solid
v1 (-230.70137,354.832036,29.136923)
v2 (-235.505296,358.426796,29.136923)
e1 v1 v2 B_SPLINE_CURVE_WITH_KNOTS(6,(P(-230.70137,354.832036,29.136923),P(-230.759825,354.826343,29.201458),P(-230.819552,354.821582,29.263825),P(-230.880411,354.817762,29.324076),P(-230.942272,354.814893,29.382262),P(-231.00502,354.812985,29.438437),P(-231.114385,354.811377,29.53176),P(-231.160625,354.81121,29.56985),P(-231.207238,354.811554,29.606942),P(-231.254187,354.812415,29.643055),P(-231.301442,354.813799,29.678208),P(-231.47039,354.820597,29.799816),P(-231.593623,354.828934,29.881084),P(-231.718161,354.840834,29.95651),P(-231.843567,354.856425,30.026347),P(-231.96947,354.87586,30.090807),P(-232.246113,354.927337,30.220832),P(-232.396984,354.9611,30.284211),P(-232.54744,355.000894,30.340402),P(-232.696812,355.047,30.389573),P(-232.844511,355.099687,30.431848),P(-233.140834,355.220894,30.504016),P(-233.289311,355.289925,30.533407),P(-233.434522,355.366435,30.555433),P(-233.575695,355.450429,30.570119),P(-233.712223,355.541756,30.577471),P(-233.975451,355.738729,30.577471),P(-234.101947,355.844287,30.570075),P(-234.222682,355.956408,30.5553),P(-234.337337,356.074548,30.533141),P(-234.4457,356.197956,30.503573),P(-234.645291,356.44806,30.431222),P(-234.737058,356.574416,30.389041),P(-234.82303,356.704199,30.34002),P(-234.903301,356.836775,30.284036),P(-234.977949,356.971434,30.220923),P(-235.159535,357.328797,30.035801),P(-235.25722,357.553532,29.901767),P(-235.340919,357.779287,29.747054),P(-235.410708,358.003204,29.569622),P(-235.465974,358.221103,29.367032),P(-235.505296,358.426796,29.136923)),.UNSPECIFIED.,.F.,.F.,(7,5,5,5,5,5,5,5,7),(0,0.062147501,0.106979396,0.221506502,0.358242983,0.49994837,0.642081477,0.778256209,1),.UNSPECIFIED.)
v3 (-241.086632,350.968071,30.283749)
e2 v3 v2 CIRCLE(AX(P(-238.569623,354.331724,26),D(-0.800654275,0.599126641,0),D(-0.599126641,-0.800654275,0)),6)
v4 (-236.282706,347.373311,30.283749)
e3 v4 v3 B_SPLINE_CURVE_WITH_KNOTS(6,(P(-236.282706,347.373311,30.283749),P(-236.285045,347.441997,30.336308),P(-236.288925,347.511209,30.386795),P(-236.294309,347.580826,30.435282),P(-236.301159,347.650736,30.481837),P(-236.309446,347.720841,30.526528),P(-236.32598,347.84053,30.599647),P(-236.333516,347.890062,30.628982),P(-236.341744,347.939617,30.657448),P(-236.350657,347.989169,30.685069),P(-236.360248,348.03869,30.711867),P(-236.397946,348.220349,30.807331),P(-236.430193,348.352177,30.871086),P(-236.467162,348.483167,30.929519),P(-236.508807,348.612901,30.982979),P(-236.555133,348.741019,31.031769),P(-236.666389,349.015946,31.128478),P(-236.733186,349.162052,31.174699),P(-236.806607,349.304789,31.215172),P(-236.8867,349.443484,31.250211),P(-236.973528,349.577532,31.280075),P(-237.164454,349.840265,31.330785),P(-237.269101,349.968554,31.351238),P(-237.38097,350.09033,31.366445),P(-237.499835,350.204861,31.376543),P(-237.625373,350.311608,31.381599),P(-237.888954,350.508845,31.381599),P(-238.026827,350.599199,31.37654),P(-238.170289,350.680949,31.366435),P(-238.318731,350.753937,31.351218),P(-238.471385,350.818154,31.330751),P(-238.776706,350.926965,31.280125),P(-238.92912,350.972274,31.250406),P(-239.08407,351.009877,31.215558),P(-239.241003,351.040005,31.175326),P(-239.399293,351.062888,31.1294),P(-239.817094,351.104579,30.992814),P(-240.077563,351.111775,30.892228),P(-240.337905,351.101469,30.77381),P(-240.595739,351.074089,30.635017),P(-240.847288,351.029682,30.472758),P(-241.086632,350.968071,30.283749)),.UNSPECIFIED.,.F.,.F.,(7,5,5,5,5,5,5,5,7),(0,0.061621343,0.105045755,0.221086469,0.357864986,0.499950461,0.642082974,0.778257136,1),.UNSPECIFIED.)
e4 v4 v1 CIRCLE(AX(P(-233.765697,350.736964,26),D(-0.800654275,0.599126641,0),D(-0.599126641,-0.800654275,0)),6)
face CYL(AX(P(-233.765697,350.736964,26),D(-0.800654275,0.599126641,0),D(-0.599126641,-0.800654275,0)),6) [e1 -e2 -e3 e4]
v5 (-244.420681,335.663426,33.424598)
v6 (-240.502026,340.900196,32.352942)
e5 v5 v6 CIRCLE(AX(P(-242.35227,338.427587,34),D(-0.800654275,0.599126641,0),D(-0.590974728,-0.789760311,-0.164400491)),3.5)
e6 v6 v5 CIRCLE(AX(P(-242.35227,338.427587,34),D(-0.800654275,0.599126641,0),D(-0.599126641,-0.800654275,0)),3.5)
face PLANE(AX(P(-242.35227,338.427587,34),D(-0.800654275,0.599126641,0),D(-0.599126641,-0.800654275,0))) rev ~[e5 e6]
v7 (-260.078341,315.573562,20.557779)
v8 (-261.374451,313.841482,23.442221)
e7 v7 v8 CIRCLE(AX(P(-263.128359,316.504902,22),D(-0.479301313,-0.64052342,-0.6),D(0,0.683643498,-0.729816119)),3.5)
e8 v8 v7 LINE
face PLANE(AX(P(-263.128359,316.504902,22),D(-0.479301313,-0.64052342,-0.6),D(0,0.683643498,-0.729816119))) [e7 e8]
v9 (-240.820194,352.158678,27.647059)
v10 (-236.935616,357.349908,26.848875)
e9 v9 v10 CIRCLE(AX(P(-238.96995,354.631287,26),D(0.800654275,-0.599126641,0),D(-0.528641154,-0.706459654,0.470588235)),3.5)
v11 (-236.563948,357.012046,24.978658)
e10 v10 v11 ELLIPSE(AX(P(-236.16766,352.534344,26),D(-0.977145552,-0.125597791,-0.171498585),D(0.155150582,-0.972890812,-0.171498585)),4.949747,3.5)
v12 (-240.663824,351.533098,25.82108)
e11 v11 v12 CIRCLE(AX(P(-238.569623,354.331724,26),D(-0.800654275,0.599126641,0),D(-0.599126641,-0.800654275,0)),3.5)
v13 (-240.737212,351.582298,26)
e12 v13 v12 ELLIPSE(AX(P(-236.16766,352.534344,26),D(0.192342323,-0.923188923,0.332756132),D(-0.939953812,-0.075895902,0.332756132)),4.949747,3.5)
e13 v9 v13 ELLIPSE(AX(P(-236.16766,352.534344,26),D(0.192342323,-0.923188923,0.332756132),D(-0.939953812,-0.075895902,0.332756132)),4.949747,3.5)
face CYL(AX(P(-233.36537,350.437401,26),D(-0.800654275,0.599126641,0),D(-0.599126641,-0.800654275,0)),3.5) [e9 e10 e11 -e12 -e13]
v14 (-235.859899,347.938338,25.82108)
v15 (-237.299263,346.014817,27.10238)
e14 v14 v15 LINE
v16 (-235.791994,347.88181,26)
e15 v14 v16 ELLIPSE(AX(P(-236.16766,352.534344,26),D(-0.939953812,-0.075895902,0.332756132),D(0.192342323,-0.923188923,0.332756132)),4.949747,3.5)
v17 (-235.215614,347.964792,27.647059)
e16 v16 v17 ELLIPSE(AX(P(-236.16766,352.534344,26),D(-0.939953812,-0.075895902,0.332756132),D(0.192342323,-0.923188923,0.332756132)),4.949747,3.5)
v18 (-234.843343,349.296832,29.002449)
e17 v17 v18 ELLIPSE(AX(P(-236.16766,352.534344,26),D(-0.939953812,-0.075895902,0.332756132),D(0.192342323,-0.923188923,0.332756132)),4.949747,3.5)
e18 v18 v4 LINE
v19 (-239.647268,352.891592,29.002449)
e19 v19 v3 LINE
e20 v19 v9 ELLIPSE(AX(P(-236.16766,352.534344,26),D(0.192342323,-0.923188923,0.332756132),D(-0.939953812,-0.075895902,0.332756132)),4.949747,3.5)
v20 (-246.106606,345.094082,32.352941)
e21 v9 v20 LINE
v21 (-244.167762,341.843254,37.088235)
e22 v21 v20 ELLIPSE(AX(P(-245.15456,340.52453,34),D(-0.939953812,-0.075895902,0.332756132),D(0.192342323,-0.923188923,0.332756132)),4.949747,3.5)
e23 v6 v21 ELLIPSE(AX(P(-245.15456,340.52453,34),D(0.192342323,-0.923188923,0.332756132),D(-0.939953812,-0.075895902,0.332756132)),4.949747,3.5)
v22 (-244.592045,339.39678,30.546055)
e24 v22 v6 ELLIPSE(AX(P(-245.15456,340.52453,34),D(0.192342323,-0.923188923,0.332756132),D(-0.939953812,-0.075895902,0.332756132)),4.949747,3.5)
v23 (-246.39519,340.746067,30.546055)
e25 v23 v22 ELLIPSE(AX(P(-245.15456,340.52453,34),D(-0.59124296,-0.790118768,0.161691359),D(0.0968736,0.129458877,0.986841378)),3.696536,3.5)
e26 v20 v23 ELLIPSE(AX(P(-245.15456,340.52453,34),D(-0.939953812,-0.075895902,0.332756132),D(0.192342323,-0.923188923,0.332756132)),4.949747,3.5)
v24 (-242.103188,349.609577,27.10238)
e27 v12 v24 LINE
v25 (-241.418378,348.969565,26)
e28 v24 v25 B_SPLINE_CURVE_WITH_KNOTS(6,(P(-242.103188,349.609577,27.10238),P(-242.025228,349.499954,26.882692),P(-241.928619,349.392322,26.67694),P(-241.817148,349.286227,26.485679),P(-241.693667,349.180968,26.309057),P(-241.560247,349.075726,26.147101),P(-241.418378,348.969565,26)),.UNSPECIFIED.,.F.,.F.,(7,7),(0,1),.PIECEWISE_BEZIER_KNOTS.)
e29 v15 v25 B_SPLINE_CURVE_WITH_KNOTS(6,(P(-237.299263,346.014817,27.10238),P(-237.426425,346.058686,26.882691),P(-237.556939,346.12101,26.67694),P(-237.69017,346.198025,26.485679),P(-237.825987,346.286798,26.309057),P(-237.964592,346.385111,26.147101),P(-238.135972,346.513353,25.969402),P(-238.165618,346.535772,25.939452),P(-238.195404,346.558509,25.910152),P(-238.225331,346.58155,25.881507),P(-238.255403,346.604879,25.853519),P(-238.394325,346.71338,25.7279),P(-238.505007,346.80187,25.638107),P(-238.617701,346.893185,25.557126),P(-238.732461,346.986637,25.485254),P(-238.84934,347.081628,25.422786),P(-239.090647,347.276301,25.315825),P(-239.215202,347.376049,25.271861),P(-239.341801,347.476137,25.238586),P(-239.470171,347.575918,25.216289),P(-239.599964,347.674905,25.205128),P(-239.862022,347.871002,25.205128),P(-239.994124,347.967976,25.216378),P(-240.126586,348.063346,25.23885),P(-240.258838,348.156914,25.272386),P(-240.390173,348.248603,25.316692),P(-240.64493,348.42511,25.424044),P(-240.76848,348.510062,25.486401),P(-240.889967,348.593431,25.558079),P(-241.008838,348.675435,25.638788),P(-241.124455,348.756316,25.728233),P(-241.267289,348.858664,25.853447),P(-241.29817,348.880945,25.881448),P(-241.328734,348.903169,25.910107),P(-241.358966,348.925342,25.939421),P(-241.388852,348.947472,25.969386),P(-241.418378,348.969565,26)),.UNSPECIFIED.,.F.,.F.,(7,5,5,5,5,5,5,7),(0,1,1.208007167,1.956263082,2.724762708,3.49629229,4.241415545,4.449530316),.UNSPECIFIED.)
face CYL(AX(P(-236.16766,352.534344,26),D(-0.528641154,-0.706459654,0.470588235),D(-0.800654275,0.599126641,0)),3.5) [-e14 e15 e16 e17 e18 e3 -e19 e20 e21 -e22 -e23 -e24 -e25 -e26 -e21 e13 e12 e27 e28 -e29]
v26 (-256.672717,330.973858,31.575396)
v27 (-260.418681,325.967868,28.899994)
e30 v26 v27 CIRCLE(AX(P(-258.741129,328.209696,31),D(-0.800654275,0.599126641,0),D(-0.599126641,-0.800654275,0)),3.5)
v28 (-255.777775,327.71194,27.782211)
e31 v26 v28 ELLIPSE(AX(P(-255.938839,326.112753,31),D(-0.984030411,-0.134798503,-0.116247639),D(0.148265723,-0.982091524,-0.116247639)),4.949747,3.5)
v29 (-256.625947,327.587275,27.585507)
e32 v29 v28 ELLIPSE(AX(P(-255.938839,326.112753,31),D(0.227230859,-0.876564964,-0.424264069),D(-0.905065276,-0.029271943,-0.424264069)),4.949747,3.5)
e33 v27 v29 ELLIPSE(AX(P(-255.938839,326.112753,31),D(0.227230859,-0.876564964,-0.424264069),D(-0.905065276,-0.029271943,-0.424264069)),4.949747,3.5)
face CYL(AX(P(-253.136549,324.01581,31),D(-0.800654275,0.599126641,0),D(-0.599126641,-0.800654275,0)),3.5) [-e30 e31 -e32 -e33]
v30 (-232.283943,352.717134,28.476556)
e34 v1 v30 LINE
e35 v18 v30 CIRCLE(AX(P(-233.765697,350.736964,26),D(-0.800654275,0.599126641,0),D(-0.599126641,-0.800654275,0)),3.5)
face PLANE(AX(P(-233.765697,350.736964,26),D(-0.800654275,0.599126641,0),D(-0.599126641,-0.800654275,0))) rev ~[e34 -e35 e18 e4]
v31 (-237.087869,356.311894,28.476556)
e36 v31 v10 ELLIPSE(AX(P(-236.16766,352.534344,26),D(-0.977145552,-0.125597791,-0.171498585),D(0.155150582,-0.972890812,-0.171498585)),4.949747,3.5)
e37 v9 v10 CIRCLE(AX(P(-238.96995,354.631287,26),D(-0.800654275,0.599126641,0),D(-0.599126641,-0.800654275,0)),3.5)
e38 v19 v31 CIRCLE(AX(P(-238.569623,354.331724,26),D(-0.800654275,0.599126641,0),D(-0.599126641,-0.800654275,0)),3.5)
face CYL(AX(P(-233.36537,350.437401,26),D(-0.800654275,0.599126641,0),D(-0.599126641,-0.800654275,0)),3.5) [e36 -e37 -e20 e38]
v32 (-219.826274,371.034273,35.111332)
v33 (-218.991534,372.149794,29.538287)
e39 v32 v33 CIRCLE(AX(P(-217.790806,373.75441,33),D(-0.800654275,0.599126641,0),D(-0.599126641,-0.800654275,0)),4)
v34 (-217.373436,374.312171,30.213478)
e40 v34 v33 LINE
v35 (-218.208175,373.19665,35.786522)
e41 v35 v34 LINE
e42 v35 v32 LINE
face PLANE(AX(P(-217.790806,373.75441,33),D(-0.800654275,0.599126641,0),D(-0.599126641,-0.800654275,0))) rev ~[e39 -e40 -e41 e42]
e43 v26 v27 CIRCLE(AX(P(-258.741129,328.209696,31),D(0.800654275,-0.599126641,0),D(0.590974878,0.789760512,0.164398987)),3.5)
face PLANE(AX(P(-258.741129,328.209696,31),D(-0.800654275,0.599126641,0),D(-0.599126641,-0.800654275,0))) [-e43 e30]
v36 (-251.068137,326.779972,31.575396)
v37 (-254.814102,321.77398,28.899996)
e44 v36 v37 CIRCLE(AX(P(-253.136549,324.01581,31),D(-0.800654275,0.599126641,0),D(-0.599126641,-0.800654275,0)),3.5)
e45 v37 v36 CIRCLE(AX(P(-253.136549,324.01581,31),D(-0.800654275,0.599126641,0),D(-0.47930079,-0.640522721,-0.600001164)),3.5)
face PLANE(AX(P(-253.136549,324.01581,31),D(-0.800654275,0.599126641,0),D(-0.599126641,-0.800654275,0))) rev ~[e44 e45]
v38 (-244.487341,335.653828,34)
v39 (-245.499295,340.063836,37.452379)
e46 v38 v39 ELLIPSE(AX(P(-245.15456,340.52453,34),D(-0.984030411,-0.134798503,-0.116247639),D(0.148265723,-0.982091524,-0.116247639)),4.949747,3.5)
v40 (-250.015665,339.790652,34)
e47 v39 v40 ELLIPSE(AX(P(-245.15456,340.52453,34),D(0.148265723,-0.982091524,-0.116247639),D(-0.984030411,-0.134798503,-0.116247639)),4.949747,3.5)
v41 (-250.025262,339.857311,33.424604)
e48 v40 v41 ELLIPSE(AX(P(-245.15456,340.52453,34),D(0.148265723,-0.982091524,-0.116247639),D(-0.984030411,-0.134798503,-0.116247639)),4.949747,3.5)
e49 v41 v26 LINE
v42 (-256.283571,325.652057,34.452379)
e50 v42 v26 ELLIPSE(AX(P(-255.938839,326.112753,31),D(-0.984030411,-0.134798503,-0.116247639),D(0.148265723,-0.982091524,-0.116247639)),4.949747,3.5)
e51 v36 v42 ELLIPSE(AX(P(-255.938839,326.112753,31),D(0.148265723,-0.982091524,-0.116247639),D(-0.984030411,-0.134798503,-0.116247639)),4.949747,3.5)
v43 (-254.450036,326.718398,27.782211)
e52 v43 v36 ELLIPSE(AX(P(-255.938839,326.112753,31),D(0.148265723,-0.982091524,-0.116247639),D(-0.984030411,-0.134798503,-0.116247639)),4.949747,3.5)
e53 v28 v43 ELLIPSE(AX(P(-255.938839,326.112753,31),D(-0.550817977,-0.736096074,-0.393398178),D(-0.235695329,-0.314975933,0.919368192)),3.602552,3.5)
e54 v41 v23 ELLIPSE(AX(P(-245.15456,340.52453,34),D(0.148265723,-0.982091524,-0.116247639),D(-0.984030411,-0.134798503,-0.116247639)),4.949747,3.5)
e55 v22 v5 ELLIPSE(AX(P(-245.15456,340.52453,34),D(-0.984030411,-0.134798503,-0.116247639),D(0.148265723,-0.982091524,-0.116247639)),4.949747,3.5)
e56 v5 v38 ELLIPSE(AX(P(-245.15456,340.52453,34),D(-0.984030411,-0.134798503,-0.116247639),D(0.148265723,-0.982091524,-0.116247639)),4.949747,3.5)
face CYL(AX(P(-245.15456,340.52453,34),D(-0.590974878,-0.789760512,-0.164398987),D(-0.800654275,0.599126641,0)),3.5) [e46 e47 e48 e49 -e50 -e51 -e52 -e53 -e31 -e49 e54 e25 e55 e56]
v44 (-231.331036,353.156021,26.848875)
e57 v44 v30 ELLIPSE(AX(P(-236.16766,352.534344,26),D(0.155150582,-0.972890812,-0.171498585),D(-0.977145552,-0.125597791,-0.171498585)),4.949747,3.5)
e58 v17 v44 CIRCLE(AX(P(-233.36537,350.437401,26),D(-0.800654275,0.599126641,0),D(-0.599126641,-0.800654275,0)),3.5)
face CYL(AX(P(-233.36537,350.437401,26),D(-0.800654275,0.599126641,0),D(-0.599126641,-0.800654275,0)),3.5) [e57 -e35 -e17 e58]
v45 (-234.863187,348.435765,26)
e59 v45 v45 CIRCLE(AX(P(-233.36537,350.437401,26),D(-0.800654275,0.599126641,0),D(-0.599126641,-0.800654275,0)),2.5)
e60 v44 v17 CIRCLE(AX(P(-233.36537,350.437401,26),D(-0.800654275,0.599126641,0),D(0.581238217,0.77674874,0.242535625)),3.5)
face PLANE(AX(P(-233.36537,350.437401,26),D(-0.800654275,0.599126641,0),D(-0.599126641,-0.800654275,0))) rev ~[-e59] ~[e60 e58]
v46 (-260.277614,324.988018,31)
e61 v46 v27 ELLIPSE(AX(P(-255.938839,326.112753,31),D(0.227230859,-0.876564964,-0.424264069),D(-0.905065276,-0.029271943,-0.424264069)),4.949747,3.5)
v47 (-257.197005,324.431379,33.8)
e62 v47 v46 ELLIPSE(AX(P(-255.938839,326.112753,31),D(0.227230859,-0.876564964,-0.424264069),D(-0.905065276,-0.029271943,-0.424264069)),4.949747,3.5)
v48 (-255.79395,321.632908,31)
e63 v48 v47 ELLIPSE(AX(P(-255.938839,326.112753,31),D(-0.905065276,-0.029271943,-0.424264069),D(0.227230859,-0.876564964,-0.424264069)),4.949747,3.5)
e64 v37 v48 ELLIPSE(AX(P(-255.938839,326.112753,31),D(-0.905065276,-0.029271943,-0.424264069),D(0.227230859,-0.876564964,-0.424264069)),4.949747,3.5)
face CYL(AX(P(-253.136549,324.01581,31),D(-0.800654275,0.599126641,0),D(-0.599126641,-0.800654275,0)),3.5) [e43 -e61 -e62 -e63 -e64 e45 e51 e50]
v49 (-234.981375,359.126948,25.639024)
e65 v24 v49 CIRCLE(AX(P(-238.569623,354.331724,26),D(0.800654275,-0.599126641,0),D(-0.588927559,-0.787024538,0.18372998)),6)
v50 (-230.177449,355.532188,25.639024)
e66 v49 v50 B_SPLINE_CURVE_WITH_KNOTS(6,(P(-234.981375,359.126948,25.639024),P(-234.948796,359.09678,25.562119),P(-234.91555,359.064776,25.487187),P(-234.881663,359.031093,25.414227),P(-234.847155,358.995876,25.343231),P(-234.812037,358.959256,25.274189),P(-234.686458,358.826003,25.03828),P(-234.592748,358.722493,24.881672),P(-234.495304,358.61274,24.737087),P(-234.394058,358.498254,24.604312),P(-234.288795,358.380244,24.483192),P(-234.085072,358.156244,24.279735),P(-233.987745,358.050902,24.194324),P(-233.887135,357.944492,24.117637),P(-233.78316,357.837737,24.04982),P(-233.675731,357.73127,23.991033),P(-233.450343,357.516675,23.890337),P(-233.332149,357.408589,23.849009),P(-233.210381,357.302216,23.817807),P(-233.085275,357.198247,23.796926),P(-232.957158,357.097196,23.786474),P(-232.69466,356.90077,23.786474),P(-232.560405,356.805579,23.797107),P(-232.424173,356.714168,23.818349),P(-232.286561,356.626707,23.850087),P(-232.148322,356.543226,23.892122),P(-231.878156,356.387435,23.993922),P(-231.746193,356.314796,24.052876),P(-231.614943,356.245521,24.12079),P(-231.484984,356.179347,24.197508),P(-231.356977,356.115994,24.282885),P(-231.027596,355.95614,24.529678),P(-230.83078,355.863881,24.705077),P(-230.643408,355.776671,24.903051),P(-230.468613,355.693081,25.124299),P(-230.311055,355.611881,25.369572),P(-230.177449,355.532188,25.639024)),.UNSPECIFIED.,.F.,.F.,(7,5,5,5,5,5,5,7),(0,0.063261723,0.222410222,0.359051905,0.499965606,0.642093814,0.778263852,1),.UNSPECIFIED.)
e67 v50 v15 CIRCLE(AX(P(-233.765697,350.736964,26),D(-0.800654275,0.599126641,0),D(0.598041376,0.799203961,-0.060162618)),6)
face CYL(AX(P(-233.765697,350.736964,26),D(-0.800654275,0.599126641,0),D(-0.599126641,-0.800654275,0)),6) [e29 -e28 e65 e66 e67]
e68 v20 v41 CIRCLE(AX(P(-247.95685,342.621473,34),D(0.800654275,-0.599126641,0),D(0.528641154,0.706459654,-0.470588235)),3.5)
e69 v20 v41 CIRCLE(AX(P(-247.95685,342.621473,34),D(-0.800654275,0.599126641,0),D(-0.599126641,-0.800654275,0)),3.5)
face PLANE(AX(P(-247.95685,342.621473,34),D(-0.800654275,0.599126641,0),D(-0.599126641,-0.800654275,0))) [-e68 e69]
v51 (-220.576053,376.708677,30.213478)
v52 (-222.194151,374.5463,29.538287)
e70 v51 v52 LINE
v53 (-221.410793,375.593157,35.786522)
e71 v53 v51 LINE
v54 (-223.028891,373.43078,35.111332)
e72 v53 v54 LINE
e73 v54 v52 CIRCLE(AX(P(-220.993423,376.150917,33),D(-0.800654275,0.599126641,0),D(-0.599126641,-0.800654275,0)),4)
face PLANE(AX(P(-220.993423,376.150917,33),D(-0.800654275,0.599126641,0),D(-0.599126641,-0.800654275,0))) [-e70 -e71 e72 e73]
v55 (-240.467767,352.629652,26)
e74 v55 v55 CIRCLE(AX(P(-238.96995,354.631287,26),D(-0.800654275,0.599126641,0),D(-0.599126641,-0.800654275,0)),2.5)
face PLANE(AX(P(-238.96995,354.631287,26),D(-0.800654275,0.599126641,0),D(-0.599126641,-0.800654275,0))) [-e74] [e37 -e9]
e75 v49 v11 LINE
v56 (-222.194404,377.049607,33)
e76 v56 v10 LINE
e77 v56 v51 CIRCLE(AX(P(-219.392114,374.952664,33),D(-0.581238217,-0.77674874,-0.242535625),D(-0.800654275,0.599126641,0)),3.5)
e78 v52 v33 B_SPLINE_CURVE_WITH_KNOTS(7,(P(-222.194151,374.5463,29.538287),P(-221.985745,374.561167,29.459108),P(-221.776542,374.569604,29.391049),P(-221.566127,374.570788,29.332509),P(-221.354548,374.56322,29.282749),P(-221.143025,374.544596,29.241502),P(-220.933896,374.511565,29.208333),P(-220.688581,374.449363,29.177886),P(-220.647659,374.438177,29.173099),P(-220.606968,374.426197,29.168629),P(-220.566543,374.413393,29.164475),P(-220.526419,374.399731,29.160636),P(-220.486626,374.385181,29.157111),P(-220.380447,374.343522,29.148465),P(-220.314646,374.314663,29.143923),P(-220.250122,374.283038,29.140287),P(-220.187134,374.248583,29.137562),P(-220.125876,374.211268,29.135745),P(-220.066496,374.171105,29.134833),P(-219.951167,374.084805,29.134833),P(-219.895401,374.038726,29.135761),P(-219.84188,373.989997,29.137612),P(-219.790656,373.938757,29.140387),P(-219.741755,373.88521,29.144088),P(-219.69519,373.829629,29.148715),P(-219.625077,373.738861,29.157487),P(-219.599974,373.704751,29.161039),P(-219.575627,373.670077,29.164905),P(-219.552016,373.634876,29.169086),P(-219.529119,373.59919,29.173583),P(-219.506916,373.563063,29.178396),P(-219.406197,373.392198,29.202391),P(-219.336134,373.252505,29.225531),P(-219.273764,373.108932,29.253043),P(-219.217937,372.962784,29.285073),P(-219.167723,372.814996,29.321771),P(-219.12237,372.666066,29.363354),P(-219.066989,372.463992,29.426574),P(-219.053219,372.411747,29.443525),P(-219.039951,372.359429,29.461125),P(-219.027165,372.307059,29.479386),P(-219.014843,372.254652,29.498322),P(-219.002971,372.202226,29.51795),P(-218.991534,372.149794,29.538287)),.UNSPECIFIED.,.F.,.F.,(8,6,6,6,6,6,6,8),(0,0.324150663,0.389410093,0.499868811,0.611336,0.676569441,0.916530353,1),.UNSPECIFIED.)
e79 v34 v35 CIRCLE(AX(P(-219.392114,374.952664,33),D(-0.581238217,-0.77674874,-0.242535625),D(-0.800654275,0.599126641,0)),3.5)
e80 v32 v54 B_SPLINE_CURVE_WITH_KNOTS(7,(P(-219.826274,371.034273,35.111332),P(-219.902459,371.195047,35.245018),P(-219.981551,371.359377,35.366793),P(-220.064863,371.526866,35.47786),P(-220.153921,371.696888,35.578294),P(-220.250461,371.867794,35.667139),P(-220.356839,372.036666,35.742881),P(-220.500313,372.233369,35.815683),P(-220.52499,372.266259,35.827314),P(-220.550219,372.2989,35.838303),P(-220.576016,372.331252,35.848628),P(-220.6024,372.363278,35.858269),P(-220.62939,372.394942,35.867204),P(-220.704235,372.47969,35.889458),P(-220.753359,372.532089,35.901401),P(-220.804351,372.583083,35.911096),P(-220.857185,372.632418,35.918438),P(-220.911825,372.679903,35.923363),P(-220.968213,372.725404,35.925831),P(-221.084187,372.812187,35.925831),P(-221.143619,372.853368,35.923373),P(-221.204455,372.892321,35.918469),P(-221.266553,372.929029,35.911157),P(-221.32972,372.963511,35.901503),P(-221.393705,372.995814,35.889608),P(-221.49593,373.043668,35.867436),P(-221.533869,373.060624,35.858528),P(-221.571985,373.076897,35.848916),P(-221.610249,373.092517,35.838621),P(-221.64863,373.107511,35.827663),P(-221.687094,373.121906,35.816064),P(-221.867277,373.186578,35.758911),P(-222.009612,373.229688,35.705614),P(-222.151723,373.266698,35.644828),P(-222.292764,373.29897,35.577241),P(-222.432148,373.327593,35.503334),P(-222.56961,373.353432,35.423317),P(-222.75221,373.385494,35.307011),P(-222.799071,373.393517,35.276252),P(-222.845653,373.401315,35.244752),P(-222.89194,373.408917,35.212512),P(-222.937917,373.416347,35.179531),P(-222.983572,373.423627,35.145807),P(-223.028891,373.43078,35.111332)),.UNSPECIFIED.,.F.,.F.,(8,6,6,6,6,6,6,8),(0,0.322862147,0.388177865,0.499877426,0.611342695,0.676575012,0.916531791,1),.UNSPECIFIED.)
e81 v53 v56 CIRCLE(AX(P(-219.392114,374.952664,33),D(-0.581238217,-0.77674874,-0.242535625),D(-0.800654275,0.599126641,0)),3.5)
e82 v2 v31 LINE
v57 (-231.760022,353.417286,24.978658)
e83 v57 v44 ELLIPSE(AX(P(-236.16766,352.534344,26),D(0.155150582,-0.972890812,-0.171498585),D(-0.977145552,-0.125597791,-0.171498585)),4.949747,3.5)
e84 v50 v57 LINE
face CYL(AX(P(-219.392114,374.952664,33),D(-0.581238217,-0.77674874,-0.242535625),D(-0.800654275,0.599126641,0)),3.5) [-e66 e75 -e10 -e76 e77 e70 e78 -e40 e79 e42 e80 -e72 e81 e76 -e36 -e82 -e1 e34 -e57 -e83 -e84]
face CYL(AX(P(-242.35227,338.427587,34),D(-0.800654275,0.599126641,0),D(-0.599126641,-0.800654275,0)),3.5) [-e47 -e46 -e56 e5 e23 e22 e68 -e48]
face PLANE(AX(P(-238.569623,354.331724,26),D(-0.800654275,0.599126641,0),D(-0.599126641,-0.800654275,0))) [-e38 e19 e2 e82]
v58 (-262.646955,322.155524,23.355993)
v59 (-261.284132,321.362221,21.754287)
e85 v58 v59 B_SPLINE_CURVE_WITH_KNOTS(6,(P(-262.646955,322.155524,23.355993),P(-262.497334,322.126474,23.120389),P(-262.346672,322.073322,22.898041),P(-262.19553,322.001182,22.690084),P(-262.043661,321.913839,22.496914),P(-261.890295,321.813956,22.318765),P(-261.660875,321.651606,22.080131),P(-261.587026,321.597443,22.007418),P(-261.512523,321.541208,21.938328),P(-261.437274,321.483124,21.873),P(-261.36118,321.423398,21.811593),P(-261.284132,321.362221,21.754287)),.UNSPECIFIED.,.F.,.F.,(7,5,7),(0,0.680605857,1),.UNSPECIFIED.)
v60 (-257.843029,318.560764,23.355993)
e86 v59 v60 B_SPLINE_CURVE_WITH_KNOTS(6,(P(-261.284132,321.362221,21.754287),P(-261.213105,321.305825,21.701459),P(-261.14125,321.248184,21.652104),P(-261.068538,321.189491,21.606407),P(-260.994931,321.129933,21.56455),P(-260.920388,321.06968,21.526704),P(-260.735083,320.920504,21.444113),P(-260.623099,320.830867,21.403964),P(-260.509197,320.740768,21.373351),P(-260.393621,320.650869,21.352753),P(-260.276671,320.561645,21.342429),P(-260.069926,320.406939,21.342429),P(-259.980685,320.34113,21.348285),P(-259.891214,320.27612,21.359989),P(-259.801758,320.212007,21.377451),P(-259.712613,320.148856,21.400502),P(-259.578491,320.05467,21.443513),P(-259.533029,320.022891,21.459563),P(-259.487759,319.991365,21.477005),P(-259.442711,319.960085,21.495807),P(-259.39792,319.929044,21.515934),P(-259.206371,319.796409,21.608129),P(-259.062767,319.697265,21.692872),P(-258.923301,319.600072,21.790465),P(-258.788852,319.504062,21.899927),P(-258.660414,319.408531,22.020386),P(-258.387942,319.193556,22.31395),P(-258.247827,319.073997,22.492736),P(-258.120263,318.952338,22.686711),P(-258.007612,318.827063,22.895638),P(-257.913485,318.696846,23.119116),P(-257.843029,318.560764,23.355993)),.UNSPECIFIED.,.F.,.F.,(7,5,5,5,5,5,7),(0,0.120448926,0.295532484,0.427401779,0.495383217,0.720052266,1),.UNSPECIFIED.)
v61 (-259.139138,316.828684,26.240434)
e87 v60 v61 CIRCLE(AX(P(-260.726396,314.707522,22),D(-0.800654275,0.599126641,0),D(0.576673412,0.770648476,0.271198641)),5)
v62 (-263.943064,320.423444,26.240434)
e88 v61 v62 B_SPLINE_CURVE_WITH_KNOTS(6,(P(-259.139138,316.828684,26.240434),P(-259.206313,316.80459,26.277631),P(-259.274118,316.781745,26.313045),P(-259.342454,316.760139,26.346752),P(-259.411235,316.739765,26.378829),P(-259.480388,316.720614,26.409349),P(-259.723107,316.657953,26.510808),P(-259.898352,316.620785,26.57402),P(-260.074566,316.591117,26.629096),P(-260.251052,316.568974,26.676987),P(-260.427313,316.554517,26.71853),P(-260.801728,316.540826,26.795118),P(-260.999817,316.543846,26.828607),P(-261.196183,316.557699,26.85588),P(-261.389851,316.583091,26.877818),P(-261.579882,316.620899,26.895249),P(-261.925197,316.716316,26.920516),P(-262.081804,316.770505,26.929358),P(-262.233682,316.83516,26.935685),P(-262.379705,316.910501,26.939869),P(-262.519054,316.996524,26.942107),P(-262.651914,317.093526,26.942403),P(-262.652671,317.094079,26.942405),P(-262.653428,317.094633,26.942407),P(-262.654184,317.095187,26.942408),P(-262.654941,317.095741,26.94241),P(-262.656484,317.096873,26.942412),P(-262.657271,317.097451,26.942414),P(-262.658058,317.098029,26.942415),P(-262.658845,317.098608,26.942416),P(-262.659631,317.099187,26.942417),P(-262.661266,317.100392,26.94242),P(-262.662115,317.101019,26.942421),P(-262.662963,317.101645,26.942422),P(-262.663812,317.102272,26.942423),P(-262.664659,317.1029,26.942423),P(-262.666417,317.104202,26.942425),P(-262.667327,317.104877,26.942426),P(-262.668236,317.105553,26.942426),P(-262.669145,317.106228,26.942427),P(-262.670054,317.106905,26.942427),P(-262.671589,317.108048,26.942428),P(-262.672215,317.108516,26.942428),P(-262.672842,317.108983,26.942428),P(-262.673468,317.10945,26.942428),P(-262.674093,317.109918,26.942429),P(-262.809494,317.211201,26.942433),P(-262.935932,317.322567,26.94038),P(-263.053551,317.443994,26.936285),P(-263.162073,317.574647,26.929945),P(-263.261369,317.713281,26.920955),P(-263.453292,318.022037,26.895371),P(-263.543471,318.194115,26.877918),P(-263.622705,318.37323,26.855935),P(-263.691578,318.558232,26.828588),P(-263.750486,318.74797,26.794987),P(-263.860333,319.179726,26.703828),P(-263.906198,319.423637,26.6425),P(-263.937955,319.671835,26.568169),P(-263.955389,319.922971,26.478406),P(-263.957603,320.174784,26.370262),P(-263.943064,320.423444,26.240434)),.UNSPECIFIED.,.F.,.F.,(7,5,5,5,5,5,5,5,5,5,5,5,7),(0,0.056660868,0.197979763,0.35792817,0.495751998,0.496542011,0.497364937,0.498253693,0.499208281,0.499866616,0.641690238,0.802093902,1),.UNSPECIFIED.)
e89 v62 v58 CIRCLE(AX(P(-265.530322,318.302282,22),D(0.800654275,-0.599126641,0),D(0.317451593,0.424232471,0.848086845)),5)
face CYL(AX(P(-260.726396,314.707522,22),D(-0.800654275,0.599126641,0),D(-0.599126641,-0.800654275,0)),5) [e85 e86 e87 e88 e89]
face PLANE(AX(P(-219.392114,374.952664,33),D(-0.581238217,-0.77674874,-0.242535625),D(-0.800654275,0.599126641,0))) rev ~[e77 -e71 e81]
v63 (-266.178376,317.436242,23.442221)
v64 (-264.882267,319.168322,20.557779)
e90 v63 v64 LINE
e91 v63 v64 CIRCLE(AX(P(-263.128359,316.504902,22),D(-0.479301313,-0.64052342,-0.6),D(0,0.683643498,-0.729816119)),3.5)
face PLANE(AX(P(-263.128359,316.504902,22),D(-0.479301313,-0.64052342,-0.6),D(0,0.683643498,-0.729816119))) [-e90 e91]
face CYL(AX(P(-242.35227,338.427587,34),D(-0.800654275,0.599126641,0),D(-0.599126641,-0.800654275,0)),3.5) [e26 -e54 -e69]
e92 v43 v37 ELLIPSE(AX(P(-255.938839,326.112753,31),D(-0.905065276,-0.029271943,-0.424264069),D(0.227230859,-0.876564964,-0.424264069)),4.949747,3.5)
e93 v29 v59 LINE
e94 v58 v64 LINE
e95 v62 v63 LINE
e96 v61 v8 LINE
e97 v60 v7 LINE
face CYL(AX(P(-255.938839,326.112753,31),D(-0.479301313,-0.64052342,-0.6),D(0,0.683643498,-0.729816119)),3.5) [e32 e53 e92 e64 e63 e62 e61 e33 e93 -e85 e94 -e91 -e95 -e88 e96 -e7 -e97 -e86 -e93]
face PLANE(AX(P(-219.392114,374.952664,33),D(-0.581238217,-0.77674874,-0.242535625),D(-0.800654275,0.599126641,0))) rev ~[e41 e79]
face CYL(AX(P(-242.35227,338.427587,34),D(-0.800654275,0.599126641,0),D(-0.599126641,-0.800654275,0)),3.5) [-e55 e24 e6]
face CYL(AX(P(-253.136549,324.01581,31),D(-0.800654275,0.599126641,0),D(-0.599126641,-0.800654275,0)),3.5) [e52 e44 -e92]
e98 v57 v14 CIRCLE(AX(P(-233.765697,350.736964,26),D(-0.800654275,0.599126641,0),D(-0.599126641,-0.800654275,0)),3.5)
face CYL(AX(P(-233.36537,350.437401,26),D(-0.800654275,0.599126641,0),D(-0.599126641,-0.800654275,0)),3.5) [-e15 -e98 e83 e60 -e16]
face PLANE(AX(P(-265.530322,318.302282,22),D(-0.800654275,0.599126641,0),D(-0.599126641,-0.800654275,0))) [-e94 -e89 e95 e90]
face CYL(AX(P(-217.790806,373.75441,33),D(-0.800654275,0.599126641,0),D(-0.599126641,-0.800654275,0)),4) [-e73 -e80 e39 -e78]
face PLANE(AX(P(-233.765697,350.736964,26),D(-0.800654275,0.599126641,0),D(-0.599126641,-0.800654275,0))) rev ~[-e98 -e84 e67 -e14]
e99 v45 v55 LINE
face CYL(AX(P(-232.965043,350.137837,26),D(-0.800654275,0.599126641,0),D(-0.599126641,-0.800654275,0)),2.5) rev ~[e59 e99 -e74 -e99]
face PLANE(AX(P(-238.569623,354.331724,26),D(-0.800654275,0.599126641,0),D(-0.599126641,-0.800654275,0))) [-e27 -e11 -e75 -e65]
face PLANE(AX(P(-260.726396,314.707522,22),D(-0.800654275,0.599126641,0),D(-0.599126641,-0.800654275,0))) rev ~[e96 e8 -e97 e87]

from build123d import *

# Parameters (mm, degrees)
BRAZO_1_PROFILE_R        = 3.5
BRAZO_2_PROFILE_R        = 3.5
BRAZO_3_PROFILE_R        = 3.5
BRAZO_4_PROFILE_R        = 3.5
BRAZO_CODO_1_PROFILE_R   = 3.5
BRAZO_CODO_2_PROFILE_R   = 3.5
BRAZO_CODO_3_PROFILE_R   = 3.5
OJO_PIVOTE_PROFILE_R     = 6
ANCLAJE_CABLE_PROFILE_R  = 4
OJO_ZAPATA_PROFILE_R     = 5
TALADRO_PIVOTE_PROFILE_R = 2.5


with BuildPart() as part:
    # Brazo_1: sweep along a curve in space
    with BuildLine() as brazo_1_path:
        Line((-219.3921140600151, 374.952663744163, 33), (-236.16766000662344, 352.53434404367624, 26))
    # Brazo_1 profile (on start of the path) → Brazo_1 (sweep)
    with BuildSketch(Plane(origin=(-219.3921140600151, 374.952663744163, 33), x_dir=(-0.8006542750173838, 0.5991266409502981, 0), z_dir=(-0.5812382173551968, -0.776748740117413, -0.24253562503633316))):
        Circle(BRAZO_1_PROFILE_R)
    sweep(path=brazo_1_path.line)

    # Brazo_2: sweep along a curve in space
    with BuildLine() as brazo_2_path:
        Line((-236.16766000662344, 352.53434404367624, 26), (-245.1545596208779, 340.52452991841545, 34))
    # Brazo_2 profile (on start of the path) → Brazo_2 (sweep)
    with BuildSketch(Plane(origin=(-236.16766000662344, 352.53434404367624, 26), x_dir=(-0.8006542750173846, 0.5991266409502971, 0), z_dir=(-0.5286411537796741, -0.7064596544271045, 0.4705882352941171))):
        Circle(BRAZO_2_PROFILE_R)
    sweep(path=brazo_2_path.line)

    # Brazo_3: sweep along a curve in space
    with BuildLine() as brazo_3_path:
        Line((-245.1545596208779, 340.52452991841545, 34), (-255.93883915798327, 326.11275296810254, 31))
    # Brazo_3 profile (on start of the path) → Brazo_3 (sweep)
    with BuildSketch(Plane(origin=(-245.1545596208779, 340.52452991841545, 34), x_dir=(-0.8006542750173841, 0.599126640950298, 0), z_dir=(-0.5909748782393364, -0.7897605119673778, -0.16439898730535732))):
        Circle(BRAZO_3_PROFILE_R)
    sweep(path=brazo_3_path.line)

    # Brazo_4: sweep along a curve in space
    with BuildLine() as brazo_4_path:
        Line((-255.93883915798327, 326.11275296810254, 31), (-263.1283588493868, 316.50490166789393, 22))
    # Brazo_4 profile (on start of the path) → Brazo_4 (sweep)
    with BuildSketch(Plane(origin=(-255.93883915798327, 326.11275296810254, 31), x_dir=(0, 0.6836434980231229, -0.729816119040069), z_dir=(-0.4793013127602369, -0.6405234200139078, -0.6000000000000006))):
        Circle(BRAZO_4_PROFILE_R)
    sweep(path=brazo_4_path.line)

    # Brazo_codo_1: sweep along a curve in space
    with BuildLine() as brazo_codo_1_path:
        Line((-233.3653700440626, 350.4374008003502, 26), (-238.96994996918428, 354.6312872870023, 26))
    # Brazo_codo_1 profile (on start of the path) → Brazo_codo_1 (sweep)
    with BuildSketch(Plane(origin=(-233.3653700440626, 350.4374008003502, 26), x_dir=(-0.599126640950299, -0.8006542750173832, 0), z_dir=(-0.8006542750173832, 0.599126640950299, 0))):
        Circle(BRAZO_CODO_1_PROFILE_R)
    sweep(path=brazo_codo_1_path.line)

    # Brazo_codo_2: sweep along a curve in space
    with BuildLine() as brazo_codo_2_path:
        Line((-242.35226965831706, 338.4275866750894, 34), (-247.95684958343875, 342.6214731617415, 34))
    # Brazo_codo_2 profile (on start of the path) → Brazo_codo_2 (sweep)
    with BuildSketch(Plane(origin=(-242.35226965831706, 338.4275866750894, 34), x_dir=(-0.599126640950299, -0.8006542750173832, 0), z_dir=(-0.8006542750173832, 0.599126640950299, 0))):
        Circle(BRAZO_CODO_2_PROFILE_R)
    sweep(path=brazo_codo_2_path.line)

    # Brazo_codo_3: sweep along a curve in space
    with BuildLine() as brazo_codo_3_path:
        Line((-253.13654919542245, 324.0158097247765, 31), (-258.7411291205441, 328.2096962114286, 31))
    # Brazo_codo_3 profile (on start of the path) → Brazo_codo_3 (sweep)
    with BuildSketch(Plane(origin=(-253.13654919542245, 324.0158097247765, 31), x_dir=(-0.5991266409503029, -0.8006542750173803, 0), z_dir=(-0.8006542750173803, 0.5991266409503029, 0))):
        Circle(BRAZO_CODO_3_PROFILE_R)
    sweep(path=brazo_codo_3_path.line)

    # Ojo_pivote: sweep along a curve in space
    with BuildLine() as ojo_pivote_path:
        Line((-233.76569718157128, 350.73696412082535, 26), (-238.5696228316756, 354.33172396652714, 26))
    # Ojo_pivote profile (on start of the path) → Ojo_pivote (sweep)
    with BuildSketch(Plane(origin=(-233.76569718157128, 350.73696412082535, 26), x_dir=(-0.5991266409502979, -0.8006542750173841, 0), z_dir=(-0.8006542750173841, 0.5991266409502979, 0))):
        Circle(OJO_PIVOTE_PROFILE_R)
    sweep(path=ojo_pivote_path.line)

    # Anclaje_cable: sweep along a curve in space
    with BuildLine() as anclaje_cable_path:
        Line((-217.79080550998034, 373.7544104622624, 33), (-220.9934226100499, 376.15091702606355, 33))
    # Anclaje_cable profile (on start of the path) → Anclaje_cable (sweep)
    with BuildSketch(Plane(origin=(-217.79080550998034, 373.7544104622624, 33), x_dir=(-0.5991266409502907, -0.8006542750173894, 0), z_dir=(-0.8006542750173894, 0.5991266409502907, 0))):
        Circle(ANCLAJE_CABLE_PROFILE_R)
    sweep(path=anclaje_cable_path.line)

    # Ojo_zapata: sweep along a curve in space
    with BuildLine() as ojo_zapata_path:
        Line((-260.7263960243347, 314.70752174504304, 22), (-265.530321674439, 318.3022815907448, 22))
    # Ojo_zapata profile (on start of the path) → Ojo_zapata (sweep)
    with BuildSketch(Plane(origin=(-260.7263960243347, 314.70752174504304, 22), x_dir=(-0.5991266409502979, -0.8006542750173841, 0), z_dir=(-0.8006542750173841, 0.5991266409502979, 0))):
        Circle(OJO_ZAPATA_PROFILE_R)
    sweep(path=ojo_zapata_path.line)

    # Taladro_pivote: sweep along a curve in space
    with BuildLine() as taladro_pivote_path:
        Line((-232.9650429065539, 350.13783747987503, 26), (-239.37027710669298, 354.93085060747745, 26))
    # Taladro_pivote profile (on start of the path) → Taladro_pivote (sweep, cut)
    with BuildSketch(Plane(origin=(-232.9650429065539, 350.13783747987503, 26), x_dir=(-0.5991266409502999, -0.8006542750173826, 0), z_dir=(-0.8006542750173826, 0.5991266409502999, 0))):
        Circle(TALADRO_PIVOTE_PROFILE_R)
    sweep(path=taladro_pivote_path.line, mode=Mode.SUBTRACT)


solid = part.part
